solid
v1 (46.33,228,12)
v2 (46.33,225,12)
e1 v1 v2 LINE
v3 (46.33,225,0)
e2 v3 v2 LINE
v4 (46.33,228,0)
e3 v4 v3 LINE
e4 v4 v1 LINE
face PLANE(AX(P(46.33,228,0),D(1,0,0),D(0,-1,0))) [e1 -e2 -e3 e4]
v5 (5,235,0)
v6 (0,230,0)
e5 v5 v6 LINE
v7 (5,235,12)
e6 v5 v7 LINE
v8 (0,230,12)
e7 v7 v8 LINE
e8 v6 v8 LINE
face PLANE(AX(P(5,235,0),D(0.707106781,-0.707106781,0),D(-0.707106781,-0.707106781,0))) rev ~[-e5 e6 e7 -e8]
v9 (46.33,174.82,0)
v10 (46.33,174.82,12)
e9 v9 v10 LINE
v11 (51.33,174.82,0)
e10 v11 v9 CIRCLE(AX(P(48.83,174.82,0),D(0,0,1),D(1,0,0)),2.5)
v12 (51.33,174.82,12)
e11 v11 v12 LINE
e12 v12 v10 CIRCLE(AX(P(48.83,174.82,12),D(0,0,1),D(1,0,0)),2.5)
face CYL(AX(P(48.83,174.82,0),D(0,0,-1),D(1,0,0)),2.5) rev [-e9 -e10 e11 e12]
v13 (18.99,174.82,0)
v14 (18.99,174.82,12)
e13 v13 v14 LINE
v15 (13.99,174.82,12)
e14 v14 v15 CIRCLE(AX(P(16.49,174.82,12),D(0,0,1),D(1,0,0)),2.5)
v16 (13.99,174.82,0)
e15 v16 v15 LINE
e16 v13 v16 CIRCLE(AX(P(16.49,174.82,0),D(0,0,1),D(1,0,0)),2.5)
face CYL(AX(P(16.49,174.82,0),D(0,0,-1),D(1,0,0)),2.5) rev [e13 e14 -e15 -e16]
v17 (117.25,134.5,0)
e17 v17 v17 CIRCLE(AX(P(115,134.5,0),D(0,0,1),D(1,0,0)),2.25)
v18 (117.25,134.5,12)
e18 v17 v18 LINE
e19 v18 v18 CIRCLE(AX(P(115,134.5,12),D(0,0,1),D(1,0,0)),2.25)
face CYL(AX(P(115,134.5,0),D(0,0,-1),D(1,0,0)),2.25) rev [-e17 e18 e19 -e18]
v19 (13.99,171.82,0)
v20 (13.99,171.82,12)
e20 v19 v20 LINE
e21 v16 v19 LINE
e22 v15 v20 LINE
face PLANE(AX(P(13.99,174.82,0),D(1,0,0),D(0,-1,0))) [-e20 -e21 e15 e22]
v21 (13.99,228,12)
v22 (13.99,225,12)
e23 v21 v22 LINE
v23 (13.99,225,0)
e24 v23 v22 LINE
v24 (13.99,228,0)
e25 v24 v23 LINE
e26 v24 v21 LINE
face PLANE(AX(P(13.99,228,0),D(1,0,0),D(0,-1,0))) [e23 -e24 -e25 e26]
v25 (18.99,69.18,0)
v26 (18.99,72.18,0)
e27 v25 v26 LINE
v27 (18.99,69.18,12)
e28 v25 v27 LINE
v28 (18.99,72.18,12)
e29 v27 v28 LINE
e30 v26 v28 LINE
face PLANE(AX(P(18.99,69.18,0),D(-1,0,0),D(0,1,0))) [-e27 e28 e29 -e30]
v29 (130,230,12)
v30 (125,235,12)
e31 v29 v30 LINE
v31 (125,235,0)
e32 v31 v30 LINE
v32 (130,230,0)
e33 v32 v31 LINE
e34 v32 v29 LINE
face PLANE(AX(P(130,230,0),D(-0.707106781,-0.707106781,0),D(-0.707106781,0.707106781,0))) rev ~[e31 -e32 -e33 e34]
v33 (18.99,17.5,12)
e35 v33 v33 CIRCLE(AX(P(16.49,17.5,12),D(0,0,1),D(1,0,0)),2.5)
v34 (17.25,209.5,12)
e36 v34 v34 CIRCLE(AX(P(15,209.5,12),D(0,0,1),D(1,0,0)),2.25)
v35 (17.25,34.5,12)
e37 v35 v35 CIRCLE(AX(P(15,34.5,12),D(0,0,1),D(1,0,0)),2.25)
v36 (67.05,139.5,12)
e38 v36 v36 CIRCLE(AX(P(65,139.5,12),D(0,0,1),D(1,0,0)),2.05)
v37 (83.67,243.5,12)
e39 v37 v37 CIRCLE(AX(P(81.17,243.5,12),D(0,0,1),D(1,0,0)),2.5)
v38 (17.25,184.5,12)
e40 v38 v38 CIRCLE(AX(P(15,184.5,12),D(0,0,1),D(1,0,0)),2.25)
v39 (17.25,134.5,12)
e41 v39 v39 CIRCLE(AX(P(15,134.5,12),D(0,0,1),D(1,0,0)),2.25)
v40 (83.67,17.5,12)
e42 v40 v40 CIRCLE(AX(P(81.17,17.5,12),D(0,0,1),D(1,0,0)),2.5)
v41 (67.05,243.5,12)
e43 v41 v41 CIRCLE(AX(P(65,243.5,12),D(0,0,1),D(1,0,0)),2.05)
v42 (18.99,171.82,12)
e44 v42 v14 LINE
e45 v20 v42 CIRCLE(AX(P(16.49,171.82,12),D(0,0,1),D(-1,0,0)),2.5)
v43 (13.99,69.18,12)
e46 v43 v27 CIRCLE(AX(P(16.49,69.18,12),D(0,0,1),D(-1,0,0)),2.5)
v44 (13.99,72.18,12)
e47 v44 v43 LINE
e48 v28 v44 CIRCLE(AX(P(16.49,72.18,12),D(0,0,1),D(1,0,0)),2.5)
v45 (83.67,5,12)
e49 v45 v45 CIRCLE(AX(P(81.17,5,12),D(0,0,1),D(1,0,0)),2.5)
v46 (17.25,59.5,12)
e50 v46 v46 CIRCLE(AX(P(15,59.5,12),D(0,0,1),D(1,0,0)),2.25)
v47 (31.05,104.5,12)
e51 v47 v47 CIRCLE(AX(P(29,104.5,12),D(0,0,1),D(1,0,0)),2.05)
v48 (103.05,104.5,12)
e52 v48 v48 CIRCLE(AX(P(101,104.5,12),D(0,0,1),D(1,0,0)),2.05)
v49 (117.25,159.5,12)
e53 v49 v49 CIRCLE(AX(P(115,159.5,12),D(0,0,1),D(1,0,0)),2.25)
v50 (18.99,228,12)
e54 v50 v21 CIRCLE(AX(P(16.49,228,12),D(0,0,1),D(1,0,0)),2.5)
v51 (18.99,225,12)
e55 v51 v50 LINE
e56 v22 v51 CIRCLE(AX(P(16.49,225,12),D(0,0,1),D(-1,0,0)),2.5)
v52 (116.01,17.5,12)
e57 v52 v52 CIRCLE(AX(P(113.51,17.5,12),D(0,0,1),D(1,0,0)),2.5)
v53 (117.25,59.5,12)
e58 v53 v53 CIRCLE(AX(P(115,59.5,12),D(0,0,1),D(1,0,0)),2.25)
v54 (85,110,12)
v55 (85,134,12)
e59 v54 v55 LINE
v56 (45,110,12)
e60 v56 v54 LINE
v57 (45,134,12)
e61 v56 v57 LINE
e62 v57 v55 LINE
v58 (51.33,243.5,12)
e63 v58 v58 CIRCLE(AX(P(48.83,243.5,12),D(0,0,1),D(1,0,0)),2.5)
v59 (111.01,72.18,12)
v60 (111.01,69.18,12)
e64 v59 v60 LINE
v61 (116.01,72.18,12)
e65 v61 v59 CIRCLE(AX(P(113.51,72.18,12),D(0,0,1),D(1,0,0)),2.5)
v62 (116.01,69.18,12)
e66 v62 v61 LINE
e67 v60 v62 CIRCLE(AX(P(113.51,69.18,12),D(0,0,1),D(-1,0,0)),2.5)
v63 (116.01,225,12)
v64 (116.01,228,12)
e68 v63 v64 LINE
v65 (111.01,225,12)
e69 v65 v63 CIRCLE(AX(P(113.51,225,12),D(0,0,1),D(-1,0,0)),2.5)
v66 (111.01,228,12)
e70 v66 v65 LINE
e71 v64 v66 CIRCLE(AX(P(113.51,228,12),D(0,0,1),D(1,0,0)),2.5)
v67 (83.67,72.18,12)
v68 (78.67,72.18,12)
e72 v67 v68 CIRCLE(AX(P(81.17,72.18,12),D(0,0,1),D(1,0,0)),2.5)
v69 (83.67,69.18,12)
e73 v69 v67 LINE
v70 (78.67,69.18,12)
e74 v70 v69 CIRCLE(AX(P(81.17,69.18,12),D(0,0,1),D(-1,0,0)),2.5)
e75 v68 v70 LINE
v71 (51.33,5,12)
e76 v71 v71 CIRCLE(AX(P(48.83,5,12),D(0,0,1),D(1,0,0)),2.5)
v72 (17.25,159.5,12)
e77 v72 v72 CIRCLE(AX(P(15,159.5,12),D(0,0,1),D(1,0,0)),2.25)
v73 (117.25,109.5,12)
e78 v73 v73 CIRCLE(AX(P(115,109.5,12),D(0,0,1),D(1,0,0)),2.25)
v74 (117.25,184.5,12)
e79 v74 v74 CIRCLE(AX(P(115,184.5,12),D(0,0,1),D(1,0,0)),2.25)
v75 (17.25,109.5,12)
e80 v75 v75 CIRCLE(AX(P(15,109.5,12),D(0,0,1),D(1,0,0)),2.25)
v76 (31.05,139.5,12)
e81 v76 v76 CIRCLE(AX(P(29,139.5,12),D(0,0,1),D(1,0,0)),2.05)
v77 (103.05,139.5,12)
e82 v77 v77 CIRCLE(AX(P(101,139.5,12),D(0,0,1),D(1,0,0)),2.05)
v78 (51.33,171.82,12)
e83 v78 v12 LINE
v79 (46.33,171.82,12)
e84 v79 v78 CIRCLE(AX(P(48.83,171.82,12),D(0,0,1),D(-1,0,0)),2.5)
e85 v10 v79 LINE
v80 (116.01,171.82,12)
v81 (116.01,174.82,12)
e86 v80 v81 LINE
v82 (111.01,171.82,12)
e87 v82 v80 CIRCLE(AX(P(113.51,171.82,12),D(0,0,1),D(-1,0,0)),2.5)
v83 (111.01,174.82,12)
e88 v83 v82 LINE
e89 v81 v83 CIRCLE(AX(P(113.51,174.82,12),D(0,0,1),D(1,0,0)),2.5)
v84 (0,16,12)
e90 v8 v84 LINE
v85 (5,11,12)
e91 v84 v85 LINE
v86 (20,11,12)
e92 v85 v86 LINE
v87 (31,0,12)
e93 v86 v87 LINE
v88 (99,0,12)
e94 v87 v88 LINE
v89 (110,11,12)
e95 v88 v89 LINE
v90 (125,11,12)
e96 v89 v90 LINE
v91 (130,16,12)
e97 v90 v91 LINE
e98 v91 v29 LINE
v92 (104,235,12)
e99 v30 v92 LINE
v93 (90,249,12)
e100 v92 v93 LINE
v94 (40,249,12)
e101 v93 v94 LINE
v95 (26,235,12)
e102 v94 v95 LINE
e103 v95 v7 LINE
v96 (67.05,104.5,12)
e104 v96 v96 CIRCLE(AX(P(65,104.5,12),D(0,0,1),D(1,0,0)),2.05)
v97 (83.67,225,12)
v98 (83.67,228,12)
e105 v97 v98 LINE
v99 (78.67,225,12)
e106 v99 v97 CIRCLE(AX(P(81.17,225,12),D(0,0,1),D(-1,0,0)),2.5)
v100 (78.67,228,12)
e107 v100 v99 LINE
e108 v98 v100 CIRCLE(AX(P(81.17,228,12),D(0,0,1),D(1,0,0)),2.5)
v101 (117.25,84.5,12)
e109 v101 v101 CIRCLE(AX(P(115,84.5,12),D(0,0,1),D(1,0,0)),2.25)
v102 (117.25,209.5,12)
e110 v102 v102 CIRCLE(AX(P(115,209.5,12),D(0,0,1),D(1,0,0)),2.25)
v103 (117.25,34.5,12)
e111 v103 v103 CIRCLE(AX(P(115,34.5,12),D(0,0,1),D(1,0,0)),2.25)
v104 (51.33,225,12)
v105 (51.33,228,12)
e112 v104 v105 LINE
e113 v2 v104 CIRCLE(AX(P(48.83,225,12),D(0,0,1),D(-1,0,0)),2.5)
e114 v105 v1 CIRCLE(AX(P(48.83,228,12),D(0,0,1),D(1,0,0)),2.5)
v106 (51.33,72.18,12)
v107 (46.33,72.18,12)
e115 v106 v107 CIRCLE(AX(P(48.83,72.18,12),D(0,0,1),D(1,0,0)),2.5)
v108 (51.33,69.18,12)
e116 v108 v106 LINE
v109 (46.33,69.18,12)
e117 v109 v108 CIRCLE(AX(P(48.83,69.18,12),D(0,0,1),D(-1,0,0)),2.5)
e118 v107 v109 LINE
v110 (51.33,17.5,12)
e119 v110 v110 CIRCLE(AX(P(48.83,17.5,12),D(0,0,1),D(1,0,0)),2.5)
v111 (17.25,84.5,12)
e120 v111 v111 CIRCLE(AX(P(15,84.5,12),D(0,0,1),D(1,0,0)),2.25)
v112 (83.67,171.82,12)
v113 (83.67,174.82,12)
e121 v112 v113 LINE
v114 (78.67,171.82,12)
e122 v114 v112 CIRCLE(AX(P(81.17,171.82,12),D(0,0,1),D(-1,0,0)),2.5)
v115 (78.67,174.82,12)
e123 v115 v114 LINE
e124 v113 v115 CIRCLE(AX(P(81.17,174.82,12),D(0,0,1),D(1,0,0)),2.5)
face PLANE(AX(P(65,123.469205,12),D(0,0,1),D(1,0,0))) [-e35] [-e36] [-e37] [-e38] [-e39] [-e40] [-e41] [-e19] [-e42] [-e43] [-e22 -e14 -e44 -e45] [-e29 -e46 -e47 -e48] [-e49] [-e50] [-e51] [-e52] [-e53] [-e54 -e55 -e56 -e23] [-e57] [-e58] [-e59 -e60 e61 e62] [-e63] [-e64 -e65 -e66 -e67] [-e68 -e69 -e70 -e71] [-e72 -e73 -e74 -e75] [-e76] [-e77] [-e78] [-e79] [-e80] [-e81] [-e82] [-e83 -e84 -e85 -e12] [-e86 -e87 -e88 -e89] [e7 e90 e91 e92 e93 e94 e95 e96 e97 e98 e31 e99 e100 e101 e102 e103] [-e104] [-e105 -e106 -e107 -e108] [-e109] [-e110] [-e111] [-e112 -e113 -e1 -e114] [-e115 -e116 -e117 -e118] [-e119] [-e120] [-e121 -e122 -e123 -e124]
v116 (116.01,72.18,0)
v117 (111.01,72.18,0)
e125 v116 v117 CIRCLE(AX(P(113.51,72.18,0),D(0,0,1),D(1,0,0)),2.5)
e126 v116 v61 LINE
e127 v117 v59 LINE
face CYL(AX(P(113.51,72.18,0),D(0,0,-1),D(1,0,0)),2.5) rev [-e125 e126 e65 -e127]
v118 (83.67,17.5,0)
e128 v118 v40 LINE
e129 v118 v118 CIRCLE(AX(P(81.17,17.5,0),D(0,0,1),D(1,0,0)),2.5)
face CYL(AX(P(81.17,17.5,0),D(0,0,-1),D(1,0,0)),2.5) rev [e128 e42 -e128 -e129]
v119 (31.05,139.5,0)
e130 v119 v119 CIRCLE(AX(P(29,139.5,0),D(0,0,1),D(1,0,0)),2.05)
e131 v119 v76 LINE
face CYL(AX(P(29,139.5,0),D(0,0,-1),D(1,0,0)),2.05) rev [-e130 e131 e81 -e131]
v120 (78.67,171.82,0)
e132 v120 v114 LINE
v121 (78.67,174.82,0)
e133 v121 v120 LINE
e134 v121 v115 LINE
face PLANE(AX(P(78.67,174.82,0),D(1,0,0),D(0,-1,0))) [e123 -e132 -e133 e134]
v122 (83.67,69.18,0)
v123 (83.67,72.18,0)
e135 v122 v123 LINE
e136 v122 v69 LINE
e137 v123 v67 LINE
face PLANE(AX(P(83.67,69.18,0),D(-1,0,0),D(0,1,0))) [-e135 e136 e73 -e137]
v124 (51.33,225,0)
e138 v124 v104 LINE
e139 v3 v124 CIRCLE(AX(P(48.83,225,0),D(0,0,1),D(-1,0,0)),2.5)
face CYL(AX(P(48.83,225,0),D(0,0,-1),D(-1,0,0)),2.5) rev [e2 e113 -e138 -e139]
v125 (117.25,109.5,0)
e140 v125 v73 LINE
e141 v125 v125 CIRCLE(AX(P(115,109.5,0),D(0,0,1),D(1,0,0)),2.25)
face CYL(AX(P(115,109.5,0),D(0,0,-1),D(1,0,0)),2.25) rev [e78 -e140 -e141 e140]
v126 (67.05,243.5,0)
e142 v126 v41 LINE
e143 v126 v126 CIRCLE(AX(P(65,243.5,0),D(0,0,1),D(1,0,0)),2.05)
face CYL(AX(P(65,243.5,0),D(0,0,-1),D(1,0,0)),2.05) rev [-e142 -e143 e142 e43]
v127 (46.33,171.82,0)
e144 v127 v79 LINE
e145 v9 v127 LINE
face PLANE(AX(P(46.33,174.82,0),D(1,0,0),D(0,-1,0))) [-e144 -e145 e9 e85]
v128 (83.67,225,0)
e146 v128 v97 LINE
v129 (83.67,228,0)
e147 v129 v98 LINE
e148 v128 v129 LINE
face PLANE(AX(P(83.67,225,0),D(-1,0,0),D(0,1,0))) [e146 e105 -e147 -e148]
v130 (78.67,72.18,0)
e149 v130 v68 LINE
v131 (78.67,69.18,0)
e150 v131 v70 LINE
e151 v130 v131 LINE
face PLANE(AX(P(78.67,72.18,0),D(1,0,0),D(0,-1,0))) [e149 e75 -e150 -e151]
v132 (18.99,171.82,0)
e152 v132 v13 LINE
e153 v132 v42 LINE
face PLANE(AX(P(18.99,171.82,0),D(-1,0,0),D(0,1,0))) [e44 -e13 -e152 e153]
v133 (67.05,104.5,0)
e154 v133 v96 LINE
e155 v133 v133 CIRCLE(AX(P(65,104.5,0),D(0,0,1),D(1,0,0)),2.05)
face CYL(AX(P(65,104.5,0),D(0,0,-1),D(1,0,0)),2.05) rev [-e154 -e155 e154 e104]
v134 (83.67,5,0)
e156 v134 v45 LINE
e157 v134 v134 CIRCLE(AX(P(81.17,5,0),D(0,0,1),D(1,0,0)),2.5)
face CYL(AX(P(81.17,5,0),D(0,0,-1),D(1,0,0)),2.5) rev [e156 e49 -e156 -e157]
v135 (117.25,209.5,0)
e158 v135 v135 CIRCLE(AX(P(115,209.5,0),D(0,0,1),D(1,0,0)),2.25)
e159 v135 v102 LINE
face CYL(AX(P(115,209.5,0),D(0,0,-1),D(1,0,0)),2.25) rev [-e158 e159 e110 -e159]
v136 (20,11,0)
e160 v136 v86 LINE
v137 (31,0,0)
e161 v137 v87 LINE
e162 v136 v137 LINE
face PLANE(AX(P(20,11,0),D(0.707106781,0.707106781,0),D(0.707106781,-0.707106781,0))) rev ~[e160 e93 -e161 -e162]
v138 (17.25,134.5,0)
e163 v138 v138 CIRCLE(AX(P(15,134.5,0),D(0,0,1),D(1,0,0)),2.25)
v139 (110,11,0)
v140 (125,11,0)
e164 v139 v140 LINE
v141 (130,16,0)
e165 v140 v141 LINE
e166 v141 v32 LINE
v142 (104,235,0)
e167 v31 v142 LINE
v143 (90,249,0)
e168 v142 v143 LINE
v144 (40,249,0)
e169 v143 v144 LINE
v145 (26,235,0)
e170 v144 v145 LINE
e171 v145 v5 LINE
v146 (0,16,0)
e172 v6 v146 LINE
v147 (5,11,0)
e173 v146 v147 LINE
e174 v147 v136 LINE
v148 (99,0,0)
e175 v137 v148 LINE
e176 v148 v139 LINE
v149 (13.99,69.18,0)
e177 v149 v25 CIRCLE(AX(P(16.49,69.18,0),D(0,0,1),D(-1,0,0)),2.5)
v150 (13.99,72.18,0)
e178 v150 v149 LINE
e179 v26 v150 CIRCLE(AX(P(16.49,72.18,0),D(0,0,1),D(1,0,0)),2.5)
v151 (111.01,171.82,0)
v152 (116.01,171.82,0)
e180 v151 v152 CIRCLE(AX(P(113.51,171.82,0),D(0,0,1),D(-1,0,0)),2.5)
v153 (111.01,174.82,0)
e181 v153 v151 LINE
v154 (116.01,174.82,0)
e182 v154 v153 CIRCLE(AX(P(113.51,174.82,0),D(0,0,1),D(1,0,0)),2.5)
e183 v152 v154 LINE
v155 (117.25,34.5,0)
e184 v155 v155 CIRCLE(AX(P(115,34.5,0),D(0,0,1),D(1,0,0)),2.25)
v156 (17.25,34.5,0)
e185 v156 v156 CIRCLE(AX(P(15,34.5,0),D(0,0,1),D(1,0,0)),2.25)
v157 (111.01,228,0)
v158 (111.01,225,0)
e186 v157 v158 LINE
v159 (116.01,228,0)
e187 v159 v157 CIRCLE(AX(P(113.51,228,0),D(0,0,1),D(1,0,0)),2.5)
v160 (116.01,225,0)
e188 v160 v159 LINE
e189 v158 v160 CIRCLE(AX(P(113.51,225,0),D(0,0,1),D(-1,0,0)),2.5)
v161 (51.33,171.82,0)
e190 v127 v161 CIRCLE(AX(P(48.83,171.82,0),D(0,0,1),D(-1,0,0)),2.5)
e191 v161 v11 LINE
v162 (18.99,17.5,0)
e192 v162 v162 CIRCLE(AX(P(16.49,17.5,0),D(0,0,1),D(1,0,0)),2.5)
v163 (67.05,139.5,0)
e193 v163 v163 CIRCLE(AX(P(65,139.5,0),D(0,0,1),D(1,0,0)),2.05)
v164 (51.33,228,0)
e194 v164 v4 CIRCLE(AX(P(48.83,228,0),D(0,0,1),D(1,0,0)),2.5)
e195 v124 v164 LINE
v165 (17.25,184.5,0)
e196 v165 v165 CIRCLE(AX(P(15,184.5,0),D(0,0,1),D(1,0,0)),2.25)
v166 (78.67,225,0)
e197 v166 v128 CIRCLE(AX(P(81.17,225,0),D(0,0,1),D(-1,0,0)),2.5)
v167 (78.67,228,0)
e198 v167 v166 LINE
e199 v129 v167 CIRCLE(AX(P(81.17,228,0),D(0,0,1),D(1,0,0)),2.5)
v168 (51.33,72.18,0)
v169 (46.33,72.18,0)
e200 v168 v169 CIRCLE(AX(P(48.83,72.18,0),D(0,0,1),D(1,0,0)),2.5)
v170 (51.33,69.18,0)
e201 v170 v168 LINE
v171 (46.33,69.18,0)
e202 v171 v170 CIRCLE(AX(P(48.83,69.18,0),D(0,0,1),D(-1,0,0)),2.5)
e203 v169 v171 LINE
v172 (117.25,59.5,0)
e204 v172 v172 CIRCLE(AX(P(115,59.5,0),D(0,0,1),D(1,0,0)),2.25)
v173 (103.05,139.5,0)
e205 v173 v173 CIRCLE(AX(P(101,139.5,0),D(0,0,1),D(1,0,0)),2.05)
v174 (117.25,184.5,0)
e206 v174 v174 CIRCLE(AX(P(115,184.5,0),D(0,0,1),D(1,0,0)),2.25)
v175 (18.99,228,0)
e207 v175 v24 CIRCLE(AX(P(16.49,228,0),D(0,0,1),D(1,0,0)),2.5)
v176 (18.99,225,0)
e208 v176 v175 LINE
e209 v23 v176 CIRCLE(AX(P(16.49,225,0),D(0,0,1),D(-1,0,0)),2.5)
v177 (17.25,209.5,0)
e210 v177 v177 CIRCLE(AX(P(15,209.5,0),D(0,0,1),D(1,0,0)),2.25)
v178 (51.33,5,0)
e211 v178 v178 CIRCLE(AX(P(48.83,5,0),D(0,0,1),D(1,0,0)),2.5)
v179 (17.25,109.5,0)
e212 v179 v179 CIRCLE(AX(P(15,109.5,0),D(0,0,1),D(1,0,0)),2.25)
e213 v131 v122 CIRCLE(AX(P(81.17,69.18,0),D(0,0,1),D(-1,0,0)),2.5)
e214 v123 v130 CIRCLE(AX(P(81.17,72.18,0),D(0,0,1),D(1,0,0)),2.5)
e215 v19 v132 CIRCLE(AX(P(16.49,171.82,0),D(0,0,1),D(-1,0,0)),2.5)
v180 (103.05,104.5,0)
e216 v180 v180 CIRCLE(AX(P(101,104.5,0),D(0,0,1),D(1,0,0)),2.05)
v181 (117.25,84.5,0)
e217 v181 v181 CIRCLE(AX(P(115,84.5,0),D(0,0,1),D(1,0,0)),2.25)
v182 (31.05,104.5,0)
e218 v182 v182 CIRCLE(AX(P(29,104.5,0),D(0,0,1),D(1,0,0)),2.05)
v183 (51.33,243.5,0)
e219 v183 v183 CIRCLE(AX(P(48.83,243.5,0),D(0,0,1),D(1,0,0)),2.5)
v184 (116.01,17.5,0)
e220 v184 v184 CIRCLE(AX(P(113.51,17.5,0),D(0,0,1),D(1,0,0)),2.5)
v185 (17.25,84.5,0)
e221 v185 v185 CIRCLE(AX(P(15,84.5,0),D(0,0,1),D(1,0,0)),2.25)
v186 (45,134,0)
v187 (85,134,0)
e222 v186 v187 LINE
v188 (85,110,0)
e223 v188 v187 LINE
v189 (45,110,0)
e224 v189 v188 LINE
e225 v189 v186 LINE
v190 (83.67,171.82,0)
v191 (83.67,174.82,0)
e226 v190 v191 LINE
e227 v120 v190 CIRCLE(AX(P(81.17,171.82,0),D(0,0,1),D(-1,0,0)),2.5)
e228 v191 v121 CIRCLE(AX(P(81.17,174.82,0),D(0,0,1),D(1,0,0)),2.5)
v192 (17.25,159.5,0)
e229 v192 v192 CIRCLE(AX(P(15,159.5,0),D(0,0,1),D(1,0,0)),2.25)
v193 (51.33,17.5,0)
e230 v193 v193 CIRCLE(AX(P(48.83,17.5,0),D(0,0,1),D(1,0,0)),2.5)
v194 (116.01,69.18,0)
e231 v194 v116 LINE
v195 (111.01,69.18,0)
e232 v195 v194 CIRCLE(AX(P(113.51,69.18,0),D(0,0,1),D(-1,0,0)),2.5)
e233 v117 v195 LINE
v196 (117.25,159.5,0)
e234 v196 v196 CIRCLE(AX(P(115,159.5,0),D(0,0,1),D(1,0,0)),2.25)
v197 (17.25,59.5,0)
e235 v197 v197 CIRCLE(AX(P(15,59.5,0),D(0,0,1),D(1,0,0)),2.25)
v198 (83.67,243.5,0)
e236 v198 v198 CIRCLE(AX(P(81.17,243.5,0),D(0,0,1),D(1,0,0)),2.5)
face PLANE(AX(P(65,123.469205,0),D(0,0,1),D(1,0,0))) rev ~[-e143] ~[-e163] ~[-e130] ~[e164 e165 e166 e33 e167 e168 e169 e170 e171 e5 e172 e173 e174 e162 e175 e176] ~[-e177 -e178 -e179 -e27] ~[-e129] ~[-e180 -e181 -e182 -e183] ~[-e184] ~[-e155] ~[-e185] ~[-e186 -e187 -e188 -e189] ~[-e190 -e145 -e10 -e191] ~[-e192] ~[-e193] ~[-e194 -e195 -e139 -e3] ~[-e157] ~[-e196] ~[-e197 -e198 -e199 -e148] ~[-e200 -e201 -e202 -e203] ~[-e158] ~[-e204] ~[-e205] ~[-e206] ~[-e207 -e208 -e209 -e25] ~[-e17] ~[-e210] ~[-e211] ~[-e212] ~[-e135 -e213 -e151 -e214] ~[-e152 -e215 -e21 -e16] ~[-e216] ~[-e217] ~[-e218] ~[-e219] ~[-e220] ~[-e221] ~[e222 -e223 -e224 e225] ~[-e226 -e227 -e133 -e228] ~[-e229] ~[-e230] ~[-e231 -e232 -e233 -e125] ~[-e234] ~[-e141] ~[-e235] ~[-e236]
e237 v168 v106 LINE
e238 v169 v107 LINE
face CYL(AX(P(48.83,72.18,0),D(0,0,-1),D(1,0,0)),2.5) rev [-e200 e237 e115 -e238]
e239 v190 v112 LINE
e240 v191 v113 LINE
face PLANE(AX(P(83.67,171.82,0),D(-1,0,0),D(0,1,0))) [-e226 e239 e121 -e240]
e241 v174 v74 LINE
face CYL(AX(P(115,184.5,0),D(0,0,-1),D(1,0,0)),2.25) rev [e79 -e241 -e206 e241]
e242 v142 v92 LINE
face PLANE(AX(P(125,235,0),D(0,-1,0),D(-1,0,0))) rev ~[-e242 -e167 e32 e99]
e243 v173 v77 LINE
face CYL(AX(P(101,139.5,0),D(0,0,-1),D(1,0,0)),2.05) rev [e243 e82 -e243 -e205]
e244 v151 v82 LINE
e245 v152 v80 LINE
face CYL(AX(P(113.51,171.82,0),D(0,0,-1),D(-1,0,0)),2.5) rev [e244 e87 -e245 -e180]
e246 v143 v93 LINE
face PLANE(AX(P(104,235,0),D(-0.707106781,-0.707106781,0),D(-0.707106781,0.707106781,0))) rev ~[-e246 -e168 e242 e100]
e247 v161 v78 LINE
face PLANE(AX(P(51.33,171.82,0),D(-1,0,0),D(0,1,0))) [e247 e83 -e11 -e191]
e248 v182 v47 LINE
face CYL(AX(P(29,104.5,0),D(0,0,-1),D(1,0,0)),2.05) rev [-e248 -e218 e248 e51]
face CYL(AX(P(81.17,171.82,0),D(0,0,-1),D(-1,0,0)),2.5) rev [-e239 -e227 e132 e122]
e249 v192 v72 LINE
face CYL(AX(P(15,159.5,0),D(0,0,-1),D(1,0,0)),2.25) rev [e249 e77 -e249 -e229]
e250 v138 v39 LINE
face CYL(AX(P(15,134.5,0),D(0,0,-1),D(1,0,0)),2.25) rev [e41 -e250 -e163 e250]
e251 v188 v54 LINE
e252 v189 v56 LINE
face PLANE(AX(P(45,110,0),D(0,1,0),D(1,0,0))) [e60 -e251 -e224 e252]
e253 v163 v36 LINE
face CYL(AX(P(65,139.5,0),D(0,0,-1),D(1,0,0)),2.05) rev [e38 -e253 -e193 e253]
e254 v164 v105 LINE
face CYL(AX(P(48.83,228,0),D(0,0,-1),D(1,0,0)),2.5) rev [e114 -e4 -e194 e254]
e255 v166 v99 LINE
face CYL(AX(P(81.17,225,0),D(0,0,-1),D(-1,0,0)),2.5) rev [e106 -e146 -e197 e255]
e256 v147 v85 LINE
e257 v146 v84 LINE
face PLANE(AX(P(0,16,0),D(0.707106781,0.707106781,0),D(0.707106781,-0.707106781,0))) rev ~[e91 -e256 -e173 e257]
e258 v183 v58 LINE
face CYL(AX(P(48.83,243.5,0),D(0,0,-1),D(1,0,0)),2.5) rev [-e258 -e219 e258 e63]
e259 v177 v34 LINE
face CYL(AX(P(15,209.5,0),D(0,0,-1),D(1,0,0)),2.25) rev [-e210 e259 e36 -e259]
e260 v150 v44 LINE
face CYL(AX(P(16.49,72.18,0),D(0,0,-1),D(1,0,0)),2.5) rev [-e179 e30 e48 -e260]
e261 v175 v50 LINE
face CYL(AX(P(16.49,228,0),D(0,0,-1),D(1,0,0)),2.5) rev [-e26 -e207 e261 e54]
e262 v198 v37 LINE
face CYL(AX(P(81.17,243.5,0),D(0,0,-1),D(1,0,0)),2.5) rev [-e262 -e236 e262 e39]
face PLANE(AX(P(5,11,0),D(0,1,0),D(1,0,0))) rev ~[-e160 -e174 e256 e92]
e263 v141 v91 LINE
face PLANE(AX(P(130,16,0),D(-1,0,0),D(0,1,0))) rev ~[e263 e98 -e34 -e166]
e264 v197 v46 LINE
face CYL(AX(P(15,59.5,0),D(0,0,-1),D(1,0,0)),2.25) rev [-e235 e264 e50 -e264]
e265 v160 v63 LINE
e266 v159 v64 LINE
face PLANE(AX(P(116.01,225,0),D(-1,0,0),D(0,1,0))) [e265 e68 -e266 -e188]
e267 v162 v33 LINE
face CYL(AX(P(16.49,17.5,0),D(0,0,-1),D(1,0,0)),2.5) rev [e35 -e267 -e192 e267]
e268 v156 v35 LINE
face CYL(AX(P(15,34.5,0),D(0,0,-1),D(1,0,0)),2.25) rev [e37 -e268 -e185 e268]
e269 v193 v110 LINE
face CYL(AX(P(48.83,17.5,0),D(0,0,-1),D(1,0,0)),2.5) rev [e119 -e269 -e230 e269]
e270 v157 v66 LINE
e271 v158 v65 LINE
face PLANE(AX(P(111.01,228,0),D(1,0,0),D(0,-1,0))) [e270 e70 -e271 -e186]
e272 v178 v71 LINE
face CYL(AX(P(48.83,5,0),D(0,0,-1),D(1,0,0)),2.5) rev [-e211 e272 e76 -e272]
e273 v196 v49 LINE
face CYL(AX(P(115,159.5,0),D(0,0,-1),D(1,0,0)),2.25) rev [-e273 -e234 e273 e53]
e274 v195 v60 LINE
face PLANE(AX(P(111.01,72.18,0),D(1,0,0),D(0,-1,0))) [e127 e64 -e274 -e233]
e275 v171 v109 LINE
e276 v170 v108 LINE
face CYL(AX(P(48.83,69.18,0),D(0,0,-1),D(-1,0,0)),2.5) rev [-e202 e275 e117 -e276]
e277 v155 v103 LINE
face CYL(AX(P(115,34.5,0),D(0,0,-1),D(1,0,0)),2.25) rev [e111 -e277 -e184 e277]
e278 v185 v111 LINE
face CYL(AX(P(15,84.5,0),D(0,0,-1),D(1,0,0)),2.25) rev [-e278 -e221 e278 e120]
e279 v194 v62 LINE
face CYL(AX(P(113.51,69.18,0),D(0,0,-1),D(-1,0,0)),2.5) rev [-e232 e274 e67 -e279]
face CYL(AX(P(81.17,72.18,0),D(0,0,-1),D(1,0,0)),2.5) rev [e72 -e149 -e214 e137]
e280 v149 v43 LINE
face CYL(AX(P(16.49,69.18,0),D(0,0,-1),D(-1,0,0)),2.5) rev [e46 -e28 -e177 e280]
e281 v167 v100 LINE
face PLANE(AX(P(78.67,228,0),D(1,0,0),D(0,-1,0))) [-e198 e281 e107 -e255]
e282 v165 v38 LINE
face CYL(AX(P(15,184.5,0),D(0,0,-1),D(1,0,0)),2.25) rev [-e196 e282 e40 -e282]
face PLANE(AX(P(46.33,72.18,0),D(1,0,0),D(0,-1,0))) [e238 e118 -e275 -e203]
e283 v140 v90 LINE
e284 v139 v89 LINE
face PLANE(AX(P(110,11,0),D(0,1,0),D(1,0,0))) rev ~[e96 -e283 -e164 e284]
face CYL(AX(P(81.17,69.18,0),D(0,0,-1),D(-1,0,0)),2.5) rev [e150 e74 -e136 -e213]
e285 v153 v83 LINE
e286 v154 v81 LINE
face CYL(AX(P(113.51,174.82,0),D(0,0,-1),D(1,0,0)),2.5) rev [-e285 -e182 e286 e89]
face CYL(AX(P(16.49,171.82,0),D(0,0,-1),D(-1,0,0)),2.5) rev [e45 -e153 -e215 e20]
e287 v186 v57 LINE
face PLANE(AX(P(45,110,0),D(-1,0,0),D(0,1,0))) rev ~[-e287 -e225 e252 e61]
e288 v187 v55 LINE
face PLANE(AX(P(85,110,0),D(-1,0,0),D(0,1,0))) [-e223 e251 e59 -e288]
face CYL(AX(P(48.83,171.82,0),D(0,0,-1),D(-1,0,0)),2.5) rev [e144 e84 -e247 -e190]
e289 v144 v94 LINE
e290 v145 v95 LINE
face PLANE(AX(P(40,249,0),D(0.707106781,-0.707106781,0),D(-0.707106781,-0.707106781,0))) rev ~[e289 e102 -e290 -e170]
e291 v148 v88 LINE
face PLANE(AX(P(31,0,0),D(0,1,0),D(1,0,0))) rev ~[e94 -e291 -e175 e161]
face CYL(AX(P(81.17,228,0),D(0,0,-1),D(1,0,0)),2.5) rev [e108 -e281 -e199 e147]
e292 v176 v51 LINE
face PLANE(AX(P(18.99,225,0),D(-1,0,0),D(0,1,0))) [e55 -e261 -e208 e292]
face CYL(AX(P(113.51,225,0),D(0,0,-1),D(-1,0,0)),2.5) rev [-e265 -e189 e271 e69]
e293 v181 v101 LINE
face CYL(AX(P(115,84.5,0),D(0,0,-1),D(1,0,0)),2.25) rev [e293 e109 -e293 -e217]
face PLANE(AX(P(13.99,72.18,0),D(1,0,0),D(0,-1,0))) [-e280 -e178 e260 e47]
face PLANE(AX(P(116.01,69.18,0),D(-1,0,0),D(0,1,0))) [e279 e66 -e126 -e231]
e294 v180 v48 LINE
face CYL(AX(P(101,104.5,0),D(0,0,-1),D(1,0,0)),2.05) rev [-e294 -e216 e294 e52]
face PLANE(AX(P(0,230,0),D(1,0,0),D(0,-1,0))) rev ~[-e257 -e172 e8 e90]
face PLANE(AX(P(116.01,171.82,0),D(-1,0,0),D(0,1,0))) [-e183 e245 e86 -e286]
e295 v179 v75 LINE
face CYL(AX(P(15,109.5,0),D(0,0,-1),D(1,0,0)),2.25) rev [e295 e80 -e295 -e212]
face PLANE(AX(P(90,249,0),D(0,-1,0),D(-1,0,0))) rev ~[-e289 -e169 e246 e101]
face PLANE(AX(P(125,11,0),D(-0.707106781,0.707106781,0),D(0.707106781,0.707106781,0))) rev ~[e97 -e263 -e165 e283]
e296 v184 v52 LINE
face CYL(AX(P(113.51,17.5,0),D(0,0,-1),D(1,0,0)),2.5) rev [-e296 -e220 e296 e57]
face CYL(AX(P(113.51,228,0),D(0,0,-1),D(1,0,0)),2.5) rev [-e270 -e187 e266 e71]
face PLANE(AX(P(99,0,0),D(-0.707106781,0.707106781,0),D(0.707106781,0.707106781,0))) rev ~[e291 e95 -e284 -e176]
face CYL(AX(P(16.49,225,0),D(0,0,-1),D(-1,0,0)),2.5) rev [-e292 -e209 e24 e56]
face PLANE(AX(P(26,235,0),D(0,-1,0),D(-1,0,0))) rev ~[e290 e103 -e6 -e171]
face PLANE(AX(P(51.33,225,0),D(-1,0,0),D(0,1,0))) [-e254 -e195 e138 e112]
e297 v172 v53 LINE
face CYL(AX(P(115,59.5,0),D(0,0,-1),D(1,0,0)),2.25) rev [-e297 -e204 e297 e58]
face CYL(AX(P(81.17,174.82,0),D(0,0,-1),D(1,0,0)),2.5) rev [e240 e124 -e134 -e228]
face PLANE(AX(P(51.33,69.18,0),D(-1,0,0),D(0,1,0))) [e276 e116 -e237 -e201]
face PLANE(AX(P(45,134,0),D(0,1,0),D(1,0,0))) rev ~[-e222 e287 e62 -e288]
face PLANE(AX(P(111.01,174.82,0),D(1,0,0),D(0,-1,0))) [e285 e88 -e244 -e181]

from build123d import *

# Parameters (mm, degrees)
MODEL_R             = 2.5
MODEL_R_2           = 2.05
MODEL_R_3           = 2.25
MODEL_W             = 40
MODEL_H             = 24
BOSS_EXTRUDE1_DEPTH = 12


with BuildPart() as part:
    # Model → Boss-Extrude1 (new body)
    with BuildSketch(Plane.XY):
        Polygon((125, 11), (130, 16), (130, 230), (125, 235), (104, 235), (90, 249), (40, 249), (26, 235), (5, 235), (0, 230), (0, 16), (5, 11), (20, 11), (31, 0), (99, 0), (110, 11), align=None)
        with Locations((16.49, 17.5)):
            Circle(MODEL_R, mode=Mode.SUBTRACT)
        with Locations((48.83, 17.5)):
            Circle(MODEL_R, mode=Mode.SUBTRACT)
        with Locations((81.17, 17.5)):
            Circle(MODEL_R, mode=Mode.SUBTRACT)
        with Locations((113.51, 17.5)):
            Circle(MODEL_R, mode=Mode.SUBTRACT)
        with Locations((29, 139.5)):
            Circle(MODEL_R_2, mode=Mode.SUBTRACT)
        with Locations((65, 139.5)):
            Circle(MODEL_R_2, mode=Mode.SUBTRACT)
        with Locations((101, 139.5)):
            Circle(MODEL_R_2, mode=Mode.SUBTRACT)
        with Locations((101, 104.5)):
            Circle(MODEL_R_2, mode=Mode.SUBTRACT)
        with Locations((65, 104.5)):
            Circle(MODEL_R_2, mode=Mode.SUBTRACT)
        with Locations((29, 104.5)):
            Circle(MODEL_R_2, mode=Mode.SUBTRACT)
        with Locations((65, 243.5)):
            Circle(MODEL_R_2, mode=Mode.SUBTRACT)
        with Locations((81.17, 5)):
            Circle(MODEL_R, mode=Mode.SUBTRACT)
        with Locations((48.83, 5)):
            Circle(MODEL_R, mode=Mode.SUBTRACT)
        with Locations((81.17, 243.5)):
            Circle(MODEL_R, mode=Mode.SUBTRACT)
        with Locations((48.83, 243.5)):
            Circle(MODEL_R, mode=Mode.SUBTRACT)
        with Locations((115, 34.5)):
            Circle(MODEL_R_3, mode=Mode.SUBTRACT)
        with Locations((115, 59.5)):
            Circle(MODEL_R_3, mode=Mode.SUBTRACT)
        with Locations((15, 34.5)):
            Circle(MODEL_R_3, mode=Mode.SUBTRACT)
        with Locations((15, 59.5)):
            Circle(MODEL_R_3, mode=Mode.SUBTRACT)
        with Locations((15, 84.5)):
            Circle(MODEL_R_3, mode=Mode.SUBTRACT)
        with Locations((15, 109.5)):
            Circle(MODEL_R_3, mode=Mode.SUBTRACT)
        with Locations((115, 84.5)):
            Circle(MODEL_R_3, mode=Mode.SUBTRACT)
        with Locations((115, 109.5)):
            Circle(MODEL_R_3, mode=Mode.SUBTRACT)
        with Locations((115, 134.5)):
            Circle(MODEL_R_3, mode=Mode.SUBTRACT)
        with Locations((15, 134.5)):
            Circle(MODEL_R_3, mode=Mode.SUBTRACT)
        with Locations((15, 159.5)):
            Circle(MODEL_R_3, mode=Mode.SUBTRACT)
        with Locations((115, 159.5)):
            Circle(MODEL_R_3, mode=Mode.SUBTRACT)
        with Locations((115, 184.5)):
            Circle(MODEL_R_3, mode=Mode.SUBTRACT)
        with Locations((15, 184.5)):
            Circle(MODEL_R_3, mode=Mode.SUBTRACT)
        with Locations((15, 209.5)):
            Circle(MODEL_R_3, mode=Mode.SUBTRACT)
        with Locations((115, 209.5)):
            Circle(MODEL_R_3, mode=Mode.SUBTRACT)
        with Locations((65, 122)):
            Rectangle(MODEL_W, MODEL_H, mode=Mode.SUBTRACT)
        with BuildLine():
            Line((13.99, 174.82), (13.99, 171.82))
            ThreePointArc((13.99, 171.82), (16.49, 169.32), (18.99, 171.82))
            Line((18.99, 171.82), (18.99, 174.82))
            ThreePointArc((18.99, 174.82), (16.49, 177.32), (13.99, 174.82))
        make_face(mode=Mode.SUBTRACT)
        with BuildLine():
            Line((46.33, 174.82), (46.33, 171.82))
            ThreePointArc((46.33, 171.82), (48.83, 169.32), (51.33, 171.82))
            Line((51.33, 171.82), (51.33, 174.82))
            ThreePointArc((51.33, 174.82), (48.83, 177.32), (46.33, 174.82))
        make_face(mode=Mode.SUBTRACT)
        with BuildLine():
            Line((78.67, 174.82), (78.67, 171.82))
            ThreePointArc((78.67, 171.82), (81.17, 169.32), (83.67, 171.82))
            Line((83.67, 171.82), (83.67, 174.82))
            ThreePointArc((83.67, 174.82), (81.17, 177.32), (78.67, 174.82))
        make_face(mode=Mode.SUBTRACT)
        with BuildLine():
            Line((111.01, 174.82), (111.01, 171.82))
            ThreePointArc((111.01, 171.82), (113.51, 169.32), (116.01, 171.82))
            Line((116.01, 171.82), (116.01, 174.82))
            ThreePointArc((116.01, 174.82), (113.51, 177.32), (111.01, 174.82))
        make_face(mode=Mode.SUBTRACT)
        with BuildLine():
            Line((13.99, 228), (13.99, 225))
            ThreePointArc((13.99, 225), (16.49, 222.5), (18.99, 225))
            Line((18.99, 225), (18.99, 228))
            ThreePointArc((18.99, 228), (16.49, 230.5), (13.99, 228))
        make_face(mode=Mode.SUBTRACT)
        with BuildLine():
            Line((51.33, 225), (51.33, 228))
            ThreePointArc((51.33, 228), (48.83, 230.5), (46.33, 228))
            Line((46.33, 228), (46.33, 225))
            ThreePointArc((46.33, 225), (48.83, 222.5), (51.33, 225))
        make_face(mode=Mode.SUBTRACT)
        with BuildLine():
            Line((83.67, 225), (83.67, 228))
            ThreePointArc((83.67, 228), (81.17, 230.5), (78.67, 228))
            Line((78.67, 228), (78.67, 225))
            ThreePointArc((78.67, 225), (81.17, 222.5), (83.67, 225))
        make_face(mode=Mode.SUBTRACT)
        with BuildLine():
            Line((116.01, 225), (116.01, 228))
            ThreePointArc((116.01, 228), (113.51, 230.5), (111.01, 228))
            Line((111.01, 228), (111.01, 225))
            ThreePointArc((111.01, 225), (113.51, 222.5), (116.01, 225))
        make_face(mode=Mode.SUBTRACT)
        with BuildLine():
            Line((18.99, 69.18), (18.99, 72.18))
            ThreePointArc((18.99, 72.18), (16.49, 74.68), (13.99, 72.18))
            Line((13.99, 72.18), (13.99, 69.18))
            ThreePointArc((13.99, 69.18), (16.49, 66.68), (18.99, 69.18))
        make_face(mode=Mode.SUBTRACT)
        with BuildLine():
            Line((51.33, 69.18), (51.33, 72.18))
            ThreePointArc((51.33, 72.18), (48.83, 74.68), (46.33, 72.18))
            Line((46.33, 72.18), (46.33, 69.18))
            ThreePointArc((46.33, 69.18), (48.83, 66.68), (51.33, 69.18))
        make_face(mode=Mode.SUBTRACT)
        with BuildLine():
            Line((83.67, 69.18), (83.67, 72.18))
            ThreePointArc((83.67, 72.18), (81.17, 74.68), (78.67, 72.18))
            Line((78.67, 72.18), (78.67, 69.18))
            ThreePointArc((78.67, 69.18), (81.17, 66.68), (83.67, 69.18))
        make_face(mode=Mode.SUBTRACT)
        with BuildLine():
            Line((116.01, 69.18), (116.01, 72.18))
            ThreePointArc((116.01, 72.18), (113.51, 74.68), (111.01, 72.18))
            Line((111.01, 72.18), (111.01, 69.18))
            ThreePointArc((111.01, 69.18), (113.51, 66.68), (116.01, 69.18))
        make_face(mode=Mode.SUBTRACT)
    extrude(amount=BOSS_EXTRUDE1_DEPTH)


solid = part.part
